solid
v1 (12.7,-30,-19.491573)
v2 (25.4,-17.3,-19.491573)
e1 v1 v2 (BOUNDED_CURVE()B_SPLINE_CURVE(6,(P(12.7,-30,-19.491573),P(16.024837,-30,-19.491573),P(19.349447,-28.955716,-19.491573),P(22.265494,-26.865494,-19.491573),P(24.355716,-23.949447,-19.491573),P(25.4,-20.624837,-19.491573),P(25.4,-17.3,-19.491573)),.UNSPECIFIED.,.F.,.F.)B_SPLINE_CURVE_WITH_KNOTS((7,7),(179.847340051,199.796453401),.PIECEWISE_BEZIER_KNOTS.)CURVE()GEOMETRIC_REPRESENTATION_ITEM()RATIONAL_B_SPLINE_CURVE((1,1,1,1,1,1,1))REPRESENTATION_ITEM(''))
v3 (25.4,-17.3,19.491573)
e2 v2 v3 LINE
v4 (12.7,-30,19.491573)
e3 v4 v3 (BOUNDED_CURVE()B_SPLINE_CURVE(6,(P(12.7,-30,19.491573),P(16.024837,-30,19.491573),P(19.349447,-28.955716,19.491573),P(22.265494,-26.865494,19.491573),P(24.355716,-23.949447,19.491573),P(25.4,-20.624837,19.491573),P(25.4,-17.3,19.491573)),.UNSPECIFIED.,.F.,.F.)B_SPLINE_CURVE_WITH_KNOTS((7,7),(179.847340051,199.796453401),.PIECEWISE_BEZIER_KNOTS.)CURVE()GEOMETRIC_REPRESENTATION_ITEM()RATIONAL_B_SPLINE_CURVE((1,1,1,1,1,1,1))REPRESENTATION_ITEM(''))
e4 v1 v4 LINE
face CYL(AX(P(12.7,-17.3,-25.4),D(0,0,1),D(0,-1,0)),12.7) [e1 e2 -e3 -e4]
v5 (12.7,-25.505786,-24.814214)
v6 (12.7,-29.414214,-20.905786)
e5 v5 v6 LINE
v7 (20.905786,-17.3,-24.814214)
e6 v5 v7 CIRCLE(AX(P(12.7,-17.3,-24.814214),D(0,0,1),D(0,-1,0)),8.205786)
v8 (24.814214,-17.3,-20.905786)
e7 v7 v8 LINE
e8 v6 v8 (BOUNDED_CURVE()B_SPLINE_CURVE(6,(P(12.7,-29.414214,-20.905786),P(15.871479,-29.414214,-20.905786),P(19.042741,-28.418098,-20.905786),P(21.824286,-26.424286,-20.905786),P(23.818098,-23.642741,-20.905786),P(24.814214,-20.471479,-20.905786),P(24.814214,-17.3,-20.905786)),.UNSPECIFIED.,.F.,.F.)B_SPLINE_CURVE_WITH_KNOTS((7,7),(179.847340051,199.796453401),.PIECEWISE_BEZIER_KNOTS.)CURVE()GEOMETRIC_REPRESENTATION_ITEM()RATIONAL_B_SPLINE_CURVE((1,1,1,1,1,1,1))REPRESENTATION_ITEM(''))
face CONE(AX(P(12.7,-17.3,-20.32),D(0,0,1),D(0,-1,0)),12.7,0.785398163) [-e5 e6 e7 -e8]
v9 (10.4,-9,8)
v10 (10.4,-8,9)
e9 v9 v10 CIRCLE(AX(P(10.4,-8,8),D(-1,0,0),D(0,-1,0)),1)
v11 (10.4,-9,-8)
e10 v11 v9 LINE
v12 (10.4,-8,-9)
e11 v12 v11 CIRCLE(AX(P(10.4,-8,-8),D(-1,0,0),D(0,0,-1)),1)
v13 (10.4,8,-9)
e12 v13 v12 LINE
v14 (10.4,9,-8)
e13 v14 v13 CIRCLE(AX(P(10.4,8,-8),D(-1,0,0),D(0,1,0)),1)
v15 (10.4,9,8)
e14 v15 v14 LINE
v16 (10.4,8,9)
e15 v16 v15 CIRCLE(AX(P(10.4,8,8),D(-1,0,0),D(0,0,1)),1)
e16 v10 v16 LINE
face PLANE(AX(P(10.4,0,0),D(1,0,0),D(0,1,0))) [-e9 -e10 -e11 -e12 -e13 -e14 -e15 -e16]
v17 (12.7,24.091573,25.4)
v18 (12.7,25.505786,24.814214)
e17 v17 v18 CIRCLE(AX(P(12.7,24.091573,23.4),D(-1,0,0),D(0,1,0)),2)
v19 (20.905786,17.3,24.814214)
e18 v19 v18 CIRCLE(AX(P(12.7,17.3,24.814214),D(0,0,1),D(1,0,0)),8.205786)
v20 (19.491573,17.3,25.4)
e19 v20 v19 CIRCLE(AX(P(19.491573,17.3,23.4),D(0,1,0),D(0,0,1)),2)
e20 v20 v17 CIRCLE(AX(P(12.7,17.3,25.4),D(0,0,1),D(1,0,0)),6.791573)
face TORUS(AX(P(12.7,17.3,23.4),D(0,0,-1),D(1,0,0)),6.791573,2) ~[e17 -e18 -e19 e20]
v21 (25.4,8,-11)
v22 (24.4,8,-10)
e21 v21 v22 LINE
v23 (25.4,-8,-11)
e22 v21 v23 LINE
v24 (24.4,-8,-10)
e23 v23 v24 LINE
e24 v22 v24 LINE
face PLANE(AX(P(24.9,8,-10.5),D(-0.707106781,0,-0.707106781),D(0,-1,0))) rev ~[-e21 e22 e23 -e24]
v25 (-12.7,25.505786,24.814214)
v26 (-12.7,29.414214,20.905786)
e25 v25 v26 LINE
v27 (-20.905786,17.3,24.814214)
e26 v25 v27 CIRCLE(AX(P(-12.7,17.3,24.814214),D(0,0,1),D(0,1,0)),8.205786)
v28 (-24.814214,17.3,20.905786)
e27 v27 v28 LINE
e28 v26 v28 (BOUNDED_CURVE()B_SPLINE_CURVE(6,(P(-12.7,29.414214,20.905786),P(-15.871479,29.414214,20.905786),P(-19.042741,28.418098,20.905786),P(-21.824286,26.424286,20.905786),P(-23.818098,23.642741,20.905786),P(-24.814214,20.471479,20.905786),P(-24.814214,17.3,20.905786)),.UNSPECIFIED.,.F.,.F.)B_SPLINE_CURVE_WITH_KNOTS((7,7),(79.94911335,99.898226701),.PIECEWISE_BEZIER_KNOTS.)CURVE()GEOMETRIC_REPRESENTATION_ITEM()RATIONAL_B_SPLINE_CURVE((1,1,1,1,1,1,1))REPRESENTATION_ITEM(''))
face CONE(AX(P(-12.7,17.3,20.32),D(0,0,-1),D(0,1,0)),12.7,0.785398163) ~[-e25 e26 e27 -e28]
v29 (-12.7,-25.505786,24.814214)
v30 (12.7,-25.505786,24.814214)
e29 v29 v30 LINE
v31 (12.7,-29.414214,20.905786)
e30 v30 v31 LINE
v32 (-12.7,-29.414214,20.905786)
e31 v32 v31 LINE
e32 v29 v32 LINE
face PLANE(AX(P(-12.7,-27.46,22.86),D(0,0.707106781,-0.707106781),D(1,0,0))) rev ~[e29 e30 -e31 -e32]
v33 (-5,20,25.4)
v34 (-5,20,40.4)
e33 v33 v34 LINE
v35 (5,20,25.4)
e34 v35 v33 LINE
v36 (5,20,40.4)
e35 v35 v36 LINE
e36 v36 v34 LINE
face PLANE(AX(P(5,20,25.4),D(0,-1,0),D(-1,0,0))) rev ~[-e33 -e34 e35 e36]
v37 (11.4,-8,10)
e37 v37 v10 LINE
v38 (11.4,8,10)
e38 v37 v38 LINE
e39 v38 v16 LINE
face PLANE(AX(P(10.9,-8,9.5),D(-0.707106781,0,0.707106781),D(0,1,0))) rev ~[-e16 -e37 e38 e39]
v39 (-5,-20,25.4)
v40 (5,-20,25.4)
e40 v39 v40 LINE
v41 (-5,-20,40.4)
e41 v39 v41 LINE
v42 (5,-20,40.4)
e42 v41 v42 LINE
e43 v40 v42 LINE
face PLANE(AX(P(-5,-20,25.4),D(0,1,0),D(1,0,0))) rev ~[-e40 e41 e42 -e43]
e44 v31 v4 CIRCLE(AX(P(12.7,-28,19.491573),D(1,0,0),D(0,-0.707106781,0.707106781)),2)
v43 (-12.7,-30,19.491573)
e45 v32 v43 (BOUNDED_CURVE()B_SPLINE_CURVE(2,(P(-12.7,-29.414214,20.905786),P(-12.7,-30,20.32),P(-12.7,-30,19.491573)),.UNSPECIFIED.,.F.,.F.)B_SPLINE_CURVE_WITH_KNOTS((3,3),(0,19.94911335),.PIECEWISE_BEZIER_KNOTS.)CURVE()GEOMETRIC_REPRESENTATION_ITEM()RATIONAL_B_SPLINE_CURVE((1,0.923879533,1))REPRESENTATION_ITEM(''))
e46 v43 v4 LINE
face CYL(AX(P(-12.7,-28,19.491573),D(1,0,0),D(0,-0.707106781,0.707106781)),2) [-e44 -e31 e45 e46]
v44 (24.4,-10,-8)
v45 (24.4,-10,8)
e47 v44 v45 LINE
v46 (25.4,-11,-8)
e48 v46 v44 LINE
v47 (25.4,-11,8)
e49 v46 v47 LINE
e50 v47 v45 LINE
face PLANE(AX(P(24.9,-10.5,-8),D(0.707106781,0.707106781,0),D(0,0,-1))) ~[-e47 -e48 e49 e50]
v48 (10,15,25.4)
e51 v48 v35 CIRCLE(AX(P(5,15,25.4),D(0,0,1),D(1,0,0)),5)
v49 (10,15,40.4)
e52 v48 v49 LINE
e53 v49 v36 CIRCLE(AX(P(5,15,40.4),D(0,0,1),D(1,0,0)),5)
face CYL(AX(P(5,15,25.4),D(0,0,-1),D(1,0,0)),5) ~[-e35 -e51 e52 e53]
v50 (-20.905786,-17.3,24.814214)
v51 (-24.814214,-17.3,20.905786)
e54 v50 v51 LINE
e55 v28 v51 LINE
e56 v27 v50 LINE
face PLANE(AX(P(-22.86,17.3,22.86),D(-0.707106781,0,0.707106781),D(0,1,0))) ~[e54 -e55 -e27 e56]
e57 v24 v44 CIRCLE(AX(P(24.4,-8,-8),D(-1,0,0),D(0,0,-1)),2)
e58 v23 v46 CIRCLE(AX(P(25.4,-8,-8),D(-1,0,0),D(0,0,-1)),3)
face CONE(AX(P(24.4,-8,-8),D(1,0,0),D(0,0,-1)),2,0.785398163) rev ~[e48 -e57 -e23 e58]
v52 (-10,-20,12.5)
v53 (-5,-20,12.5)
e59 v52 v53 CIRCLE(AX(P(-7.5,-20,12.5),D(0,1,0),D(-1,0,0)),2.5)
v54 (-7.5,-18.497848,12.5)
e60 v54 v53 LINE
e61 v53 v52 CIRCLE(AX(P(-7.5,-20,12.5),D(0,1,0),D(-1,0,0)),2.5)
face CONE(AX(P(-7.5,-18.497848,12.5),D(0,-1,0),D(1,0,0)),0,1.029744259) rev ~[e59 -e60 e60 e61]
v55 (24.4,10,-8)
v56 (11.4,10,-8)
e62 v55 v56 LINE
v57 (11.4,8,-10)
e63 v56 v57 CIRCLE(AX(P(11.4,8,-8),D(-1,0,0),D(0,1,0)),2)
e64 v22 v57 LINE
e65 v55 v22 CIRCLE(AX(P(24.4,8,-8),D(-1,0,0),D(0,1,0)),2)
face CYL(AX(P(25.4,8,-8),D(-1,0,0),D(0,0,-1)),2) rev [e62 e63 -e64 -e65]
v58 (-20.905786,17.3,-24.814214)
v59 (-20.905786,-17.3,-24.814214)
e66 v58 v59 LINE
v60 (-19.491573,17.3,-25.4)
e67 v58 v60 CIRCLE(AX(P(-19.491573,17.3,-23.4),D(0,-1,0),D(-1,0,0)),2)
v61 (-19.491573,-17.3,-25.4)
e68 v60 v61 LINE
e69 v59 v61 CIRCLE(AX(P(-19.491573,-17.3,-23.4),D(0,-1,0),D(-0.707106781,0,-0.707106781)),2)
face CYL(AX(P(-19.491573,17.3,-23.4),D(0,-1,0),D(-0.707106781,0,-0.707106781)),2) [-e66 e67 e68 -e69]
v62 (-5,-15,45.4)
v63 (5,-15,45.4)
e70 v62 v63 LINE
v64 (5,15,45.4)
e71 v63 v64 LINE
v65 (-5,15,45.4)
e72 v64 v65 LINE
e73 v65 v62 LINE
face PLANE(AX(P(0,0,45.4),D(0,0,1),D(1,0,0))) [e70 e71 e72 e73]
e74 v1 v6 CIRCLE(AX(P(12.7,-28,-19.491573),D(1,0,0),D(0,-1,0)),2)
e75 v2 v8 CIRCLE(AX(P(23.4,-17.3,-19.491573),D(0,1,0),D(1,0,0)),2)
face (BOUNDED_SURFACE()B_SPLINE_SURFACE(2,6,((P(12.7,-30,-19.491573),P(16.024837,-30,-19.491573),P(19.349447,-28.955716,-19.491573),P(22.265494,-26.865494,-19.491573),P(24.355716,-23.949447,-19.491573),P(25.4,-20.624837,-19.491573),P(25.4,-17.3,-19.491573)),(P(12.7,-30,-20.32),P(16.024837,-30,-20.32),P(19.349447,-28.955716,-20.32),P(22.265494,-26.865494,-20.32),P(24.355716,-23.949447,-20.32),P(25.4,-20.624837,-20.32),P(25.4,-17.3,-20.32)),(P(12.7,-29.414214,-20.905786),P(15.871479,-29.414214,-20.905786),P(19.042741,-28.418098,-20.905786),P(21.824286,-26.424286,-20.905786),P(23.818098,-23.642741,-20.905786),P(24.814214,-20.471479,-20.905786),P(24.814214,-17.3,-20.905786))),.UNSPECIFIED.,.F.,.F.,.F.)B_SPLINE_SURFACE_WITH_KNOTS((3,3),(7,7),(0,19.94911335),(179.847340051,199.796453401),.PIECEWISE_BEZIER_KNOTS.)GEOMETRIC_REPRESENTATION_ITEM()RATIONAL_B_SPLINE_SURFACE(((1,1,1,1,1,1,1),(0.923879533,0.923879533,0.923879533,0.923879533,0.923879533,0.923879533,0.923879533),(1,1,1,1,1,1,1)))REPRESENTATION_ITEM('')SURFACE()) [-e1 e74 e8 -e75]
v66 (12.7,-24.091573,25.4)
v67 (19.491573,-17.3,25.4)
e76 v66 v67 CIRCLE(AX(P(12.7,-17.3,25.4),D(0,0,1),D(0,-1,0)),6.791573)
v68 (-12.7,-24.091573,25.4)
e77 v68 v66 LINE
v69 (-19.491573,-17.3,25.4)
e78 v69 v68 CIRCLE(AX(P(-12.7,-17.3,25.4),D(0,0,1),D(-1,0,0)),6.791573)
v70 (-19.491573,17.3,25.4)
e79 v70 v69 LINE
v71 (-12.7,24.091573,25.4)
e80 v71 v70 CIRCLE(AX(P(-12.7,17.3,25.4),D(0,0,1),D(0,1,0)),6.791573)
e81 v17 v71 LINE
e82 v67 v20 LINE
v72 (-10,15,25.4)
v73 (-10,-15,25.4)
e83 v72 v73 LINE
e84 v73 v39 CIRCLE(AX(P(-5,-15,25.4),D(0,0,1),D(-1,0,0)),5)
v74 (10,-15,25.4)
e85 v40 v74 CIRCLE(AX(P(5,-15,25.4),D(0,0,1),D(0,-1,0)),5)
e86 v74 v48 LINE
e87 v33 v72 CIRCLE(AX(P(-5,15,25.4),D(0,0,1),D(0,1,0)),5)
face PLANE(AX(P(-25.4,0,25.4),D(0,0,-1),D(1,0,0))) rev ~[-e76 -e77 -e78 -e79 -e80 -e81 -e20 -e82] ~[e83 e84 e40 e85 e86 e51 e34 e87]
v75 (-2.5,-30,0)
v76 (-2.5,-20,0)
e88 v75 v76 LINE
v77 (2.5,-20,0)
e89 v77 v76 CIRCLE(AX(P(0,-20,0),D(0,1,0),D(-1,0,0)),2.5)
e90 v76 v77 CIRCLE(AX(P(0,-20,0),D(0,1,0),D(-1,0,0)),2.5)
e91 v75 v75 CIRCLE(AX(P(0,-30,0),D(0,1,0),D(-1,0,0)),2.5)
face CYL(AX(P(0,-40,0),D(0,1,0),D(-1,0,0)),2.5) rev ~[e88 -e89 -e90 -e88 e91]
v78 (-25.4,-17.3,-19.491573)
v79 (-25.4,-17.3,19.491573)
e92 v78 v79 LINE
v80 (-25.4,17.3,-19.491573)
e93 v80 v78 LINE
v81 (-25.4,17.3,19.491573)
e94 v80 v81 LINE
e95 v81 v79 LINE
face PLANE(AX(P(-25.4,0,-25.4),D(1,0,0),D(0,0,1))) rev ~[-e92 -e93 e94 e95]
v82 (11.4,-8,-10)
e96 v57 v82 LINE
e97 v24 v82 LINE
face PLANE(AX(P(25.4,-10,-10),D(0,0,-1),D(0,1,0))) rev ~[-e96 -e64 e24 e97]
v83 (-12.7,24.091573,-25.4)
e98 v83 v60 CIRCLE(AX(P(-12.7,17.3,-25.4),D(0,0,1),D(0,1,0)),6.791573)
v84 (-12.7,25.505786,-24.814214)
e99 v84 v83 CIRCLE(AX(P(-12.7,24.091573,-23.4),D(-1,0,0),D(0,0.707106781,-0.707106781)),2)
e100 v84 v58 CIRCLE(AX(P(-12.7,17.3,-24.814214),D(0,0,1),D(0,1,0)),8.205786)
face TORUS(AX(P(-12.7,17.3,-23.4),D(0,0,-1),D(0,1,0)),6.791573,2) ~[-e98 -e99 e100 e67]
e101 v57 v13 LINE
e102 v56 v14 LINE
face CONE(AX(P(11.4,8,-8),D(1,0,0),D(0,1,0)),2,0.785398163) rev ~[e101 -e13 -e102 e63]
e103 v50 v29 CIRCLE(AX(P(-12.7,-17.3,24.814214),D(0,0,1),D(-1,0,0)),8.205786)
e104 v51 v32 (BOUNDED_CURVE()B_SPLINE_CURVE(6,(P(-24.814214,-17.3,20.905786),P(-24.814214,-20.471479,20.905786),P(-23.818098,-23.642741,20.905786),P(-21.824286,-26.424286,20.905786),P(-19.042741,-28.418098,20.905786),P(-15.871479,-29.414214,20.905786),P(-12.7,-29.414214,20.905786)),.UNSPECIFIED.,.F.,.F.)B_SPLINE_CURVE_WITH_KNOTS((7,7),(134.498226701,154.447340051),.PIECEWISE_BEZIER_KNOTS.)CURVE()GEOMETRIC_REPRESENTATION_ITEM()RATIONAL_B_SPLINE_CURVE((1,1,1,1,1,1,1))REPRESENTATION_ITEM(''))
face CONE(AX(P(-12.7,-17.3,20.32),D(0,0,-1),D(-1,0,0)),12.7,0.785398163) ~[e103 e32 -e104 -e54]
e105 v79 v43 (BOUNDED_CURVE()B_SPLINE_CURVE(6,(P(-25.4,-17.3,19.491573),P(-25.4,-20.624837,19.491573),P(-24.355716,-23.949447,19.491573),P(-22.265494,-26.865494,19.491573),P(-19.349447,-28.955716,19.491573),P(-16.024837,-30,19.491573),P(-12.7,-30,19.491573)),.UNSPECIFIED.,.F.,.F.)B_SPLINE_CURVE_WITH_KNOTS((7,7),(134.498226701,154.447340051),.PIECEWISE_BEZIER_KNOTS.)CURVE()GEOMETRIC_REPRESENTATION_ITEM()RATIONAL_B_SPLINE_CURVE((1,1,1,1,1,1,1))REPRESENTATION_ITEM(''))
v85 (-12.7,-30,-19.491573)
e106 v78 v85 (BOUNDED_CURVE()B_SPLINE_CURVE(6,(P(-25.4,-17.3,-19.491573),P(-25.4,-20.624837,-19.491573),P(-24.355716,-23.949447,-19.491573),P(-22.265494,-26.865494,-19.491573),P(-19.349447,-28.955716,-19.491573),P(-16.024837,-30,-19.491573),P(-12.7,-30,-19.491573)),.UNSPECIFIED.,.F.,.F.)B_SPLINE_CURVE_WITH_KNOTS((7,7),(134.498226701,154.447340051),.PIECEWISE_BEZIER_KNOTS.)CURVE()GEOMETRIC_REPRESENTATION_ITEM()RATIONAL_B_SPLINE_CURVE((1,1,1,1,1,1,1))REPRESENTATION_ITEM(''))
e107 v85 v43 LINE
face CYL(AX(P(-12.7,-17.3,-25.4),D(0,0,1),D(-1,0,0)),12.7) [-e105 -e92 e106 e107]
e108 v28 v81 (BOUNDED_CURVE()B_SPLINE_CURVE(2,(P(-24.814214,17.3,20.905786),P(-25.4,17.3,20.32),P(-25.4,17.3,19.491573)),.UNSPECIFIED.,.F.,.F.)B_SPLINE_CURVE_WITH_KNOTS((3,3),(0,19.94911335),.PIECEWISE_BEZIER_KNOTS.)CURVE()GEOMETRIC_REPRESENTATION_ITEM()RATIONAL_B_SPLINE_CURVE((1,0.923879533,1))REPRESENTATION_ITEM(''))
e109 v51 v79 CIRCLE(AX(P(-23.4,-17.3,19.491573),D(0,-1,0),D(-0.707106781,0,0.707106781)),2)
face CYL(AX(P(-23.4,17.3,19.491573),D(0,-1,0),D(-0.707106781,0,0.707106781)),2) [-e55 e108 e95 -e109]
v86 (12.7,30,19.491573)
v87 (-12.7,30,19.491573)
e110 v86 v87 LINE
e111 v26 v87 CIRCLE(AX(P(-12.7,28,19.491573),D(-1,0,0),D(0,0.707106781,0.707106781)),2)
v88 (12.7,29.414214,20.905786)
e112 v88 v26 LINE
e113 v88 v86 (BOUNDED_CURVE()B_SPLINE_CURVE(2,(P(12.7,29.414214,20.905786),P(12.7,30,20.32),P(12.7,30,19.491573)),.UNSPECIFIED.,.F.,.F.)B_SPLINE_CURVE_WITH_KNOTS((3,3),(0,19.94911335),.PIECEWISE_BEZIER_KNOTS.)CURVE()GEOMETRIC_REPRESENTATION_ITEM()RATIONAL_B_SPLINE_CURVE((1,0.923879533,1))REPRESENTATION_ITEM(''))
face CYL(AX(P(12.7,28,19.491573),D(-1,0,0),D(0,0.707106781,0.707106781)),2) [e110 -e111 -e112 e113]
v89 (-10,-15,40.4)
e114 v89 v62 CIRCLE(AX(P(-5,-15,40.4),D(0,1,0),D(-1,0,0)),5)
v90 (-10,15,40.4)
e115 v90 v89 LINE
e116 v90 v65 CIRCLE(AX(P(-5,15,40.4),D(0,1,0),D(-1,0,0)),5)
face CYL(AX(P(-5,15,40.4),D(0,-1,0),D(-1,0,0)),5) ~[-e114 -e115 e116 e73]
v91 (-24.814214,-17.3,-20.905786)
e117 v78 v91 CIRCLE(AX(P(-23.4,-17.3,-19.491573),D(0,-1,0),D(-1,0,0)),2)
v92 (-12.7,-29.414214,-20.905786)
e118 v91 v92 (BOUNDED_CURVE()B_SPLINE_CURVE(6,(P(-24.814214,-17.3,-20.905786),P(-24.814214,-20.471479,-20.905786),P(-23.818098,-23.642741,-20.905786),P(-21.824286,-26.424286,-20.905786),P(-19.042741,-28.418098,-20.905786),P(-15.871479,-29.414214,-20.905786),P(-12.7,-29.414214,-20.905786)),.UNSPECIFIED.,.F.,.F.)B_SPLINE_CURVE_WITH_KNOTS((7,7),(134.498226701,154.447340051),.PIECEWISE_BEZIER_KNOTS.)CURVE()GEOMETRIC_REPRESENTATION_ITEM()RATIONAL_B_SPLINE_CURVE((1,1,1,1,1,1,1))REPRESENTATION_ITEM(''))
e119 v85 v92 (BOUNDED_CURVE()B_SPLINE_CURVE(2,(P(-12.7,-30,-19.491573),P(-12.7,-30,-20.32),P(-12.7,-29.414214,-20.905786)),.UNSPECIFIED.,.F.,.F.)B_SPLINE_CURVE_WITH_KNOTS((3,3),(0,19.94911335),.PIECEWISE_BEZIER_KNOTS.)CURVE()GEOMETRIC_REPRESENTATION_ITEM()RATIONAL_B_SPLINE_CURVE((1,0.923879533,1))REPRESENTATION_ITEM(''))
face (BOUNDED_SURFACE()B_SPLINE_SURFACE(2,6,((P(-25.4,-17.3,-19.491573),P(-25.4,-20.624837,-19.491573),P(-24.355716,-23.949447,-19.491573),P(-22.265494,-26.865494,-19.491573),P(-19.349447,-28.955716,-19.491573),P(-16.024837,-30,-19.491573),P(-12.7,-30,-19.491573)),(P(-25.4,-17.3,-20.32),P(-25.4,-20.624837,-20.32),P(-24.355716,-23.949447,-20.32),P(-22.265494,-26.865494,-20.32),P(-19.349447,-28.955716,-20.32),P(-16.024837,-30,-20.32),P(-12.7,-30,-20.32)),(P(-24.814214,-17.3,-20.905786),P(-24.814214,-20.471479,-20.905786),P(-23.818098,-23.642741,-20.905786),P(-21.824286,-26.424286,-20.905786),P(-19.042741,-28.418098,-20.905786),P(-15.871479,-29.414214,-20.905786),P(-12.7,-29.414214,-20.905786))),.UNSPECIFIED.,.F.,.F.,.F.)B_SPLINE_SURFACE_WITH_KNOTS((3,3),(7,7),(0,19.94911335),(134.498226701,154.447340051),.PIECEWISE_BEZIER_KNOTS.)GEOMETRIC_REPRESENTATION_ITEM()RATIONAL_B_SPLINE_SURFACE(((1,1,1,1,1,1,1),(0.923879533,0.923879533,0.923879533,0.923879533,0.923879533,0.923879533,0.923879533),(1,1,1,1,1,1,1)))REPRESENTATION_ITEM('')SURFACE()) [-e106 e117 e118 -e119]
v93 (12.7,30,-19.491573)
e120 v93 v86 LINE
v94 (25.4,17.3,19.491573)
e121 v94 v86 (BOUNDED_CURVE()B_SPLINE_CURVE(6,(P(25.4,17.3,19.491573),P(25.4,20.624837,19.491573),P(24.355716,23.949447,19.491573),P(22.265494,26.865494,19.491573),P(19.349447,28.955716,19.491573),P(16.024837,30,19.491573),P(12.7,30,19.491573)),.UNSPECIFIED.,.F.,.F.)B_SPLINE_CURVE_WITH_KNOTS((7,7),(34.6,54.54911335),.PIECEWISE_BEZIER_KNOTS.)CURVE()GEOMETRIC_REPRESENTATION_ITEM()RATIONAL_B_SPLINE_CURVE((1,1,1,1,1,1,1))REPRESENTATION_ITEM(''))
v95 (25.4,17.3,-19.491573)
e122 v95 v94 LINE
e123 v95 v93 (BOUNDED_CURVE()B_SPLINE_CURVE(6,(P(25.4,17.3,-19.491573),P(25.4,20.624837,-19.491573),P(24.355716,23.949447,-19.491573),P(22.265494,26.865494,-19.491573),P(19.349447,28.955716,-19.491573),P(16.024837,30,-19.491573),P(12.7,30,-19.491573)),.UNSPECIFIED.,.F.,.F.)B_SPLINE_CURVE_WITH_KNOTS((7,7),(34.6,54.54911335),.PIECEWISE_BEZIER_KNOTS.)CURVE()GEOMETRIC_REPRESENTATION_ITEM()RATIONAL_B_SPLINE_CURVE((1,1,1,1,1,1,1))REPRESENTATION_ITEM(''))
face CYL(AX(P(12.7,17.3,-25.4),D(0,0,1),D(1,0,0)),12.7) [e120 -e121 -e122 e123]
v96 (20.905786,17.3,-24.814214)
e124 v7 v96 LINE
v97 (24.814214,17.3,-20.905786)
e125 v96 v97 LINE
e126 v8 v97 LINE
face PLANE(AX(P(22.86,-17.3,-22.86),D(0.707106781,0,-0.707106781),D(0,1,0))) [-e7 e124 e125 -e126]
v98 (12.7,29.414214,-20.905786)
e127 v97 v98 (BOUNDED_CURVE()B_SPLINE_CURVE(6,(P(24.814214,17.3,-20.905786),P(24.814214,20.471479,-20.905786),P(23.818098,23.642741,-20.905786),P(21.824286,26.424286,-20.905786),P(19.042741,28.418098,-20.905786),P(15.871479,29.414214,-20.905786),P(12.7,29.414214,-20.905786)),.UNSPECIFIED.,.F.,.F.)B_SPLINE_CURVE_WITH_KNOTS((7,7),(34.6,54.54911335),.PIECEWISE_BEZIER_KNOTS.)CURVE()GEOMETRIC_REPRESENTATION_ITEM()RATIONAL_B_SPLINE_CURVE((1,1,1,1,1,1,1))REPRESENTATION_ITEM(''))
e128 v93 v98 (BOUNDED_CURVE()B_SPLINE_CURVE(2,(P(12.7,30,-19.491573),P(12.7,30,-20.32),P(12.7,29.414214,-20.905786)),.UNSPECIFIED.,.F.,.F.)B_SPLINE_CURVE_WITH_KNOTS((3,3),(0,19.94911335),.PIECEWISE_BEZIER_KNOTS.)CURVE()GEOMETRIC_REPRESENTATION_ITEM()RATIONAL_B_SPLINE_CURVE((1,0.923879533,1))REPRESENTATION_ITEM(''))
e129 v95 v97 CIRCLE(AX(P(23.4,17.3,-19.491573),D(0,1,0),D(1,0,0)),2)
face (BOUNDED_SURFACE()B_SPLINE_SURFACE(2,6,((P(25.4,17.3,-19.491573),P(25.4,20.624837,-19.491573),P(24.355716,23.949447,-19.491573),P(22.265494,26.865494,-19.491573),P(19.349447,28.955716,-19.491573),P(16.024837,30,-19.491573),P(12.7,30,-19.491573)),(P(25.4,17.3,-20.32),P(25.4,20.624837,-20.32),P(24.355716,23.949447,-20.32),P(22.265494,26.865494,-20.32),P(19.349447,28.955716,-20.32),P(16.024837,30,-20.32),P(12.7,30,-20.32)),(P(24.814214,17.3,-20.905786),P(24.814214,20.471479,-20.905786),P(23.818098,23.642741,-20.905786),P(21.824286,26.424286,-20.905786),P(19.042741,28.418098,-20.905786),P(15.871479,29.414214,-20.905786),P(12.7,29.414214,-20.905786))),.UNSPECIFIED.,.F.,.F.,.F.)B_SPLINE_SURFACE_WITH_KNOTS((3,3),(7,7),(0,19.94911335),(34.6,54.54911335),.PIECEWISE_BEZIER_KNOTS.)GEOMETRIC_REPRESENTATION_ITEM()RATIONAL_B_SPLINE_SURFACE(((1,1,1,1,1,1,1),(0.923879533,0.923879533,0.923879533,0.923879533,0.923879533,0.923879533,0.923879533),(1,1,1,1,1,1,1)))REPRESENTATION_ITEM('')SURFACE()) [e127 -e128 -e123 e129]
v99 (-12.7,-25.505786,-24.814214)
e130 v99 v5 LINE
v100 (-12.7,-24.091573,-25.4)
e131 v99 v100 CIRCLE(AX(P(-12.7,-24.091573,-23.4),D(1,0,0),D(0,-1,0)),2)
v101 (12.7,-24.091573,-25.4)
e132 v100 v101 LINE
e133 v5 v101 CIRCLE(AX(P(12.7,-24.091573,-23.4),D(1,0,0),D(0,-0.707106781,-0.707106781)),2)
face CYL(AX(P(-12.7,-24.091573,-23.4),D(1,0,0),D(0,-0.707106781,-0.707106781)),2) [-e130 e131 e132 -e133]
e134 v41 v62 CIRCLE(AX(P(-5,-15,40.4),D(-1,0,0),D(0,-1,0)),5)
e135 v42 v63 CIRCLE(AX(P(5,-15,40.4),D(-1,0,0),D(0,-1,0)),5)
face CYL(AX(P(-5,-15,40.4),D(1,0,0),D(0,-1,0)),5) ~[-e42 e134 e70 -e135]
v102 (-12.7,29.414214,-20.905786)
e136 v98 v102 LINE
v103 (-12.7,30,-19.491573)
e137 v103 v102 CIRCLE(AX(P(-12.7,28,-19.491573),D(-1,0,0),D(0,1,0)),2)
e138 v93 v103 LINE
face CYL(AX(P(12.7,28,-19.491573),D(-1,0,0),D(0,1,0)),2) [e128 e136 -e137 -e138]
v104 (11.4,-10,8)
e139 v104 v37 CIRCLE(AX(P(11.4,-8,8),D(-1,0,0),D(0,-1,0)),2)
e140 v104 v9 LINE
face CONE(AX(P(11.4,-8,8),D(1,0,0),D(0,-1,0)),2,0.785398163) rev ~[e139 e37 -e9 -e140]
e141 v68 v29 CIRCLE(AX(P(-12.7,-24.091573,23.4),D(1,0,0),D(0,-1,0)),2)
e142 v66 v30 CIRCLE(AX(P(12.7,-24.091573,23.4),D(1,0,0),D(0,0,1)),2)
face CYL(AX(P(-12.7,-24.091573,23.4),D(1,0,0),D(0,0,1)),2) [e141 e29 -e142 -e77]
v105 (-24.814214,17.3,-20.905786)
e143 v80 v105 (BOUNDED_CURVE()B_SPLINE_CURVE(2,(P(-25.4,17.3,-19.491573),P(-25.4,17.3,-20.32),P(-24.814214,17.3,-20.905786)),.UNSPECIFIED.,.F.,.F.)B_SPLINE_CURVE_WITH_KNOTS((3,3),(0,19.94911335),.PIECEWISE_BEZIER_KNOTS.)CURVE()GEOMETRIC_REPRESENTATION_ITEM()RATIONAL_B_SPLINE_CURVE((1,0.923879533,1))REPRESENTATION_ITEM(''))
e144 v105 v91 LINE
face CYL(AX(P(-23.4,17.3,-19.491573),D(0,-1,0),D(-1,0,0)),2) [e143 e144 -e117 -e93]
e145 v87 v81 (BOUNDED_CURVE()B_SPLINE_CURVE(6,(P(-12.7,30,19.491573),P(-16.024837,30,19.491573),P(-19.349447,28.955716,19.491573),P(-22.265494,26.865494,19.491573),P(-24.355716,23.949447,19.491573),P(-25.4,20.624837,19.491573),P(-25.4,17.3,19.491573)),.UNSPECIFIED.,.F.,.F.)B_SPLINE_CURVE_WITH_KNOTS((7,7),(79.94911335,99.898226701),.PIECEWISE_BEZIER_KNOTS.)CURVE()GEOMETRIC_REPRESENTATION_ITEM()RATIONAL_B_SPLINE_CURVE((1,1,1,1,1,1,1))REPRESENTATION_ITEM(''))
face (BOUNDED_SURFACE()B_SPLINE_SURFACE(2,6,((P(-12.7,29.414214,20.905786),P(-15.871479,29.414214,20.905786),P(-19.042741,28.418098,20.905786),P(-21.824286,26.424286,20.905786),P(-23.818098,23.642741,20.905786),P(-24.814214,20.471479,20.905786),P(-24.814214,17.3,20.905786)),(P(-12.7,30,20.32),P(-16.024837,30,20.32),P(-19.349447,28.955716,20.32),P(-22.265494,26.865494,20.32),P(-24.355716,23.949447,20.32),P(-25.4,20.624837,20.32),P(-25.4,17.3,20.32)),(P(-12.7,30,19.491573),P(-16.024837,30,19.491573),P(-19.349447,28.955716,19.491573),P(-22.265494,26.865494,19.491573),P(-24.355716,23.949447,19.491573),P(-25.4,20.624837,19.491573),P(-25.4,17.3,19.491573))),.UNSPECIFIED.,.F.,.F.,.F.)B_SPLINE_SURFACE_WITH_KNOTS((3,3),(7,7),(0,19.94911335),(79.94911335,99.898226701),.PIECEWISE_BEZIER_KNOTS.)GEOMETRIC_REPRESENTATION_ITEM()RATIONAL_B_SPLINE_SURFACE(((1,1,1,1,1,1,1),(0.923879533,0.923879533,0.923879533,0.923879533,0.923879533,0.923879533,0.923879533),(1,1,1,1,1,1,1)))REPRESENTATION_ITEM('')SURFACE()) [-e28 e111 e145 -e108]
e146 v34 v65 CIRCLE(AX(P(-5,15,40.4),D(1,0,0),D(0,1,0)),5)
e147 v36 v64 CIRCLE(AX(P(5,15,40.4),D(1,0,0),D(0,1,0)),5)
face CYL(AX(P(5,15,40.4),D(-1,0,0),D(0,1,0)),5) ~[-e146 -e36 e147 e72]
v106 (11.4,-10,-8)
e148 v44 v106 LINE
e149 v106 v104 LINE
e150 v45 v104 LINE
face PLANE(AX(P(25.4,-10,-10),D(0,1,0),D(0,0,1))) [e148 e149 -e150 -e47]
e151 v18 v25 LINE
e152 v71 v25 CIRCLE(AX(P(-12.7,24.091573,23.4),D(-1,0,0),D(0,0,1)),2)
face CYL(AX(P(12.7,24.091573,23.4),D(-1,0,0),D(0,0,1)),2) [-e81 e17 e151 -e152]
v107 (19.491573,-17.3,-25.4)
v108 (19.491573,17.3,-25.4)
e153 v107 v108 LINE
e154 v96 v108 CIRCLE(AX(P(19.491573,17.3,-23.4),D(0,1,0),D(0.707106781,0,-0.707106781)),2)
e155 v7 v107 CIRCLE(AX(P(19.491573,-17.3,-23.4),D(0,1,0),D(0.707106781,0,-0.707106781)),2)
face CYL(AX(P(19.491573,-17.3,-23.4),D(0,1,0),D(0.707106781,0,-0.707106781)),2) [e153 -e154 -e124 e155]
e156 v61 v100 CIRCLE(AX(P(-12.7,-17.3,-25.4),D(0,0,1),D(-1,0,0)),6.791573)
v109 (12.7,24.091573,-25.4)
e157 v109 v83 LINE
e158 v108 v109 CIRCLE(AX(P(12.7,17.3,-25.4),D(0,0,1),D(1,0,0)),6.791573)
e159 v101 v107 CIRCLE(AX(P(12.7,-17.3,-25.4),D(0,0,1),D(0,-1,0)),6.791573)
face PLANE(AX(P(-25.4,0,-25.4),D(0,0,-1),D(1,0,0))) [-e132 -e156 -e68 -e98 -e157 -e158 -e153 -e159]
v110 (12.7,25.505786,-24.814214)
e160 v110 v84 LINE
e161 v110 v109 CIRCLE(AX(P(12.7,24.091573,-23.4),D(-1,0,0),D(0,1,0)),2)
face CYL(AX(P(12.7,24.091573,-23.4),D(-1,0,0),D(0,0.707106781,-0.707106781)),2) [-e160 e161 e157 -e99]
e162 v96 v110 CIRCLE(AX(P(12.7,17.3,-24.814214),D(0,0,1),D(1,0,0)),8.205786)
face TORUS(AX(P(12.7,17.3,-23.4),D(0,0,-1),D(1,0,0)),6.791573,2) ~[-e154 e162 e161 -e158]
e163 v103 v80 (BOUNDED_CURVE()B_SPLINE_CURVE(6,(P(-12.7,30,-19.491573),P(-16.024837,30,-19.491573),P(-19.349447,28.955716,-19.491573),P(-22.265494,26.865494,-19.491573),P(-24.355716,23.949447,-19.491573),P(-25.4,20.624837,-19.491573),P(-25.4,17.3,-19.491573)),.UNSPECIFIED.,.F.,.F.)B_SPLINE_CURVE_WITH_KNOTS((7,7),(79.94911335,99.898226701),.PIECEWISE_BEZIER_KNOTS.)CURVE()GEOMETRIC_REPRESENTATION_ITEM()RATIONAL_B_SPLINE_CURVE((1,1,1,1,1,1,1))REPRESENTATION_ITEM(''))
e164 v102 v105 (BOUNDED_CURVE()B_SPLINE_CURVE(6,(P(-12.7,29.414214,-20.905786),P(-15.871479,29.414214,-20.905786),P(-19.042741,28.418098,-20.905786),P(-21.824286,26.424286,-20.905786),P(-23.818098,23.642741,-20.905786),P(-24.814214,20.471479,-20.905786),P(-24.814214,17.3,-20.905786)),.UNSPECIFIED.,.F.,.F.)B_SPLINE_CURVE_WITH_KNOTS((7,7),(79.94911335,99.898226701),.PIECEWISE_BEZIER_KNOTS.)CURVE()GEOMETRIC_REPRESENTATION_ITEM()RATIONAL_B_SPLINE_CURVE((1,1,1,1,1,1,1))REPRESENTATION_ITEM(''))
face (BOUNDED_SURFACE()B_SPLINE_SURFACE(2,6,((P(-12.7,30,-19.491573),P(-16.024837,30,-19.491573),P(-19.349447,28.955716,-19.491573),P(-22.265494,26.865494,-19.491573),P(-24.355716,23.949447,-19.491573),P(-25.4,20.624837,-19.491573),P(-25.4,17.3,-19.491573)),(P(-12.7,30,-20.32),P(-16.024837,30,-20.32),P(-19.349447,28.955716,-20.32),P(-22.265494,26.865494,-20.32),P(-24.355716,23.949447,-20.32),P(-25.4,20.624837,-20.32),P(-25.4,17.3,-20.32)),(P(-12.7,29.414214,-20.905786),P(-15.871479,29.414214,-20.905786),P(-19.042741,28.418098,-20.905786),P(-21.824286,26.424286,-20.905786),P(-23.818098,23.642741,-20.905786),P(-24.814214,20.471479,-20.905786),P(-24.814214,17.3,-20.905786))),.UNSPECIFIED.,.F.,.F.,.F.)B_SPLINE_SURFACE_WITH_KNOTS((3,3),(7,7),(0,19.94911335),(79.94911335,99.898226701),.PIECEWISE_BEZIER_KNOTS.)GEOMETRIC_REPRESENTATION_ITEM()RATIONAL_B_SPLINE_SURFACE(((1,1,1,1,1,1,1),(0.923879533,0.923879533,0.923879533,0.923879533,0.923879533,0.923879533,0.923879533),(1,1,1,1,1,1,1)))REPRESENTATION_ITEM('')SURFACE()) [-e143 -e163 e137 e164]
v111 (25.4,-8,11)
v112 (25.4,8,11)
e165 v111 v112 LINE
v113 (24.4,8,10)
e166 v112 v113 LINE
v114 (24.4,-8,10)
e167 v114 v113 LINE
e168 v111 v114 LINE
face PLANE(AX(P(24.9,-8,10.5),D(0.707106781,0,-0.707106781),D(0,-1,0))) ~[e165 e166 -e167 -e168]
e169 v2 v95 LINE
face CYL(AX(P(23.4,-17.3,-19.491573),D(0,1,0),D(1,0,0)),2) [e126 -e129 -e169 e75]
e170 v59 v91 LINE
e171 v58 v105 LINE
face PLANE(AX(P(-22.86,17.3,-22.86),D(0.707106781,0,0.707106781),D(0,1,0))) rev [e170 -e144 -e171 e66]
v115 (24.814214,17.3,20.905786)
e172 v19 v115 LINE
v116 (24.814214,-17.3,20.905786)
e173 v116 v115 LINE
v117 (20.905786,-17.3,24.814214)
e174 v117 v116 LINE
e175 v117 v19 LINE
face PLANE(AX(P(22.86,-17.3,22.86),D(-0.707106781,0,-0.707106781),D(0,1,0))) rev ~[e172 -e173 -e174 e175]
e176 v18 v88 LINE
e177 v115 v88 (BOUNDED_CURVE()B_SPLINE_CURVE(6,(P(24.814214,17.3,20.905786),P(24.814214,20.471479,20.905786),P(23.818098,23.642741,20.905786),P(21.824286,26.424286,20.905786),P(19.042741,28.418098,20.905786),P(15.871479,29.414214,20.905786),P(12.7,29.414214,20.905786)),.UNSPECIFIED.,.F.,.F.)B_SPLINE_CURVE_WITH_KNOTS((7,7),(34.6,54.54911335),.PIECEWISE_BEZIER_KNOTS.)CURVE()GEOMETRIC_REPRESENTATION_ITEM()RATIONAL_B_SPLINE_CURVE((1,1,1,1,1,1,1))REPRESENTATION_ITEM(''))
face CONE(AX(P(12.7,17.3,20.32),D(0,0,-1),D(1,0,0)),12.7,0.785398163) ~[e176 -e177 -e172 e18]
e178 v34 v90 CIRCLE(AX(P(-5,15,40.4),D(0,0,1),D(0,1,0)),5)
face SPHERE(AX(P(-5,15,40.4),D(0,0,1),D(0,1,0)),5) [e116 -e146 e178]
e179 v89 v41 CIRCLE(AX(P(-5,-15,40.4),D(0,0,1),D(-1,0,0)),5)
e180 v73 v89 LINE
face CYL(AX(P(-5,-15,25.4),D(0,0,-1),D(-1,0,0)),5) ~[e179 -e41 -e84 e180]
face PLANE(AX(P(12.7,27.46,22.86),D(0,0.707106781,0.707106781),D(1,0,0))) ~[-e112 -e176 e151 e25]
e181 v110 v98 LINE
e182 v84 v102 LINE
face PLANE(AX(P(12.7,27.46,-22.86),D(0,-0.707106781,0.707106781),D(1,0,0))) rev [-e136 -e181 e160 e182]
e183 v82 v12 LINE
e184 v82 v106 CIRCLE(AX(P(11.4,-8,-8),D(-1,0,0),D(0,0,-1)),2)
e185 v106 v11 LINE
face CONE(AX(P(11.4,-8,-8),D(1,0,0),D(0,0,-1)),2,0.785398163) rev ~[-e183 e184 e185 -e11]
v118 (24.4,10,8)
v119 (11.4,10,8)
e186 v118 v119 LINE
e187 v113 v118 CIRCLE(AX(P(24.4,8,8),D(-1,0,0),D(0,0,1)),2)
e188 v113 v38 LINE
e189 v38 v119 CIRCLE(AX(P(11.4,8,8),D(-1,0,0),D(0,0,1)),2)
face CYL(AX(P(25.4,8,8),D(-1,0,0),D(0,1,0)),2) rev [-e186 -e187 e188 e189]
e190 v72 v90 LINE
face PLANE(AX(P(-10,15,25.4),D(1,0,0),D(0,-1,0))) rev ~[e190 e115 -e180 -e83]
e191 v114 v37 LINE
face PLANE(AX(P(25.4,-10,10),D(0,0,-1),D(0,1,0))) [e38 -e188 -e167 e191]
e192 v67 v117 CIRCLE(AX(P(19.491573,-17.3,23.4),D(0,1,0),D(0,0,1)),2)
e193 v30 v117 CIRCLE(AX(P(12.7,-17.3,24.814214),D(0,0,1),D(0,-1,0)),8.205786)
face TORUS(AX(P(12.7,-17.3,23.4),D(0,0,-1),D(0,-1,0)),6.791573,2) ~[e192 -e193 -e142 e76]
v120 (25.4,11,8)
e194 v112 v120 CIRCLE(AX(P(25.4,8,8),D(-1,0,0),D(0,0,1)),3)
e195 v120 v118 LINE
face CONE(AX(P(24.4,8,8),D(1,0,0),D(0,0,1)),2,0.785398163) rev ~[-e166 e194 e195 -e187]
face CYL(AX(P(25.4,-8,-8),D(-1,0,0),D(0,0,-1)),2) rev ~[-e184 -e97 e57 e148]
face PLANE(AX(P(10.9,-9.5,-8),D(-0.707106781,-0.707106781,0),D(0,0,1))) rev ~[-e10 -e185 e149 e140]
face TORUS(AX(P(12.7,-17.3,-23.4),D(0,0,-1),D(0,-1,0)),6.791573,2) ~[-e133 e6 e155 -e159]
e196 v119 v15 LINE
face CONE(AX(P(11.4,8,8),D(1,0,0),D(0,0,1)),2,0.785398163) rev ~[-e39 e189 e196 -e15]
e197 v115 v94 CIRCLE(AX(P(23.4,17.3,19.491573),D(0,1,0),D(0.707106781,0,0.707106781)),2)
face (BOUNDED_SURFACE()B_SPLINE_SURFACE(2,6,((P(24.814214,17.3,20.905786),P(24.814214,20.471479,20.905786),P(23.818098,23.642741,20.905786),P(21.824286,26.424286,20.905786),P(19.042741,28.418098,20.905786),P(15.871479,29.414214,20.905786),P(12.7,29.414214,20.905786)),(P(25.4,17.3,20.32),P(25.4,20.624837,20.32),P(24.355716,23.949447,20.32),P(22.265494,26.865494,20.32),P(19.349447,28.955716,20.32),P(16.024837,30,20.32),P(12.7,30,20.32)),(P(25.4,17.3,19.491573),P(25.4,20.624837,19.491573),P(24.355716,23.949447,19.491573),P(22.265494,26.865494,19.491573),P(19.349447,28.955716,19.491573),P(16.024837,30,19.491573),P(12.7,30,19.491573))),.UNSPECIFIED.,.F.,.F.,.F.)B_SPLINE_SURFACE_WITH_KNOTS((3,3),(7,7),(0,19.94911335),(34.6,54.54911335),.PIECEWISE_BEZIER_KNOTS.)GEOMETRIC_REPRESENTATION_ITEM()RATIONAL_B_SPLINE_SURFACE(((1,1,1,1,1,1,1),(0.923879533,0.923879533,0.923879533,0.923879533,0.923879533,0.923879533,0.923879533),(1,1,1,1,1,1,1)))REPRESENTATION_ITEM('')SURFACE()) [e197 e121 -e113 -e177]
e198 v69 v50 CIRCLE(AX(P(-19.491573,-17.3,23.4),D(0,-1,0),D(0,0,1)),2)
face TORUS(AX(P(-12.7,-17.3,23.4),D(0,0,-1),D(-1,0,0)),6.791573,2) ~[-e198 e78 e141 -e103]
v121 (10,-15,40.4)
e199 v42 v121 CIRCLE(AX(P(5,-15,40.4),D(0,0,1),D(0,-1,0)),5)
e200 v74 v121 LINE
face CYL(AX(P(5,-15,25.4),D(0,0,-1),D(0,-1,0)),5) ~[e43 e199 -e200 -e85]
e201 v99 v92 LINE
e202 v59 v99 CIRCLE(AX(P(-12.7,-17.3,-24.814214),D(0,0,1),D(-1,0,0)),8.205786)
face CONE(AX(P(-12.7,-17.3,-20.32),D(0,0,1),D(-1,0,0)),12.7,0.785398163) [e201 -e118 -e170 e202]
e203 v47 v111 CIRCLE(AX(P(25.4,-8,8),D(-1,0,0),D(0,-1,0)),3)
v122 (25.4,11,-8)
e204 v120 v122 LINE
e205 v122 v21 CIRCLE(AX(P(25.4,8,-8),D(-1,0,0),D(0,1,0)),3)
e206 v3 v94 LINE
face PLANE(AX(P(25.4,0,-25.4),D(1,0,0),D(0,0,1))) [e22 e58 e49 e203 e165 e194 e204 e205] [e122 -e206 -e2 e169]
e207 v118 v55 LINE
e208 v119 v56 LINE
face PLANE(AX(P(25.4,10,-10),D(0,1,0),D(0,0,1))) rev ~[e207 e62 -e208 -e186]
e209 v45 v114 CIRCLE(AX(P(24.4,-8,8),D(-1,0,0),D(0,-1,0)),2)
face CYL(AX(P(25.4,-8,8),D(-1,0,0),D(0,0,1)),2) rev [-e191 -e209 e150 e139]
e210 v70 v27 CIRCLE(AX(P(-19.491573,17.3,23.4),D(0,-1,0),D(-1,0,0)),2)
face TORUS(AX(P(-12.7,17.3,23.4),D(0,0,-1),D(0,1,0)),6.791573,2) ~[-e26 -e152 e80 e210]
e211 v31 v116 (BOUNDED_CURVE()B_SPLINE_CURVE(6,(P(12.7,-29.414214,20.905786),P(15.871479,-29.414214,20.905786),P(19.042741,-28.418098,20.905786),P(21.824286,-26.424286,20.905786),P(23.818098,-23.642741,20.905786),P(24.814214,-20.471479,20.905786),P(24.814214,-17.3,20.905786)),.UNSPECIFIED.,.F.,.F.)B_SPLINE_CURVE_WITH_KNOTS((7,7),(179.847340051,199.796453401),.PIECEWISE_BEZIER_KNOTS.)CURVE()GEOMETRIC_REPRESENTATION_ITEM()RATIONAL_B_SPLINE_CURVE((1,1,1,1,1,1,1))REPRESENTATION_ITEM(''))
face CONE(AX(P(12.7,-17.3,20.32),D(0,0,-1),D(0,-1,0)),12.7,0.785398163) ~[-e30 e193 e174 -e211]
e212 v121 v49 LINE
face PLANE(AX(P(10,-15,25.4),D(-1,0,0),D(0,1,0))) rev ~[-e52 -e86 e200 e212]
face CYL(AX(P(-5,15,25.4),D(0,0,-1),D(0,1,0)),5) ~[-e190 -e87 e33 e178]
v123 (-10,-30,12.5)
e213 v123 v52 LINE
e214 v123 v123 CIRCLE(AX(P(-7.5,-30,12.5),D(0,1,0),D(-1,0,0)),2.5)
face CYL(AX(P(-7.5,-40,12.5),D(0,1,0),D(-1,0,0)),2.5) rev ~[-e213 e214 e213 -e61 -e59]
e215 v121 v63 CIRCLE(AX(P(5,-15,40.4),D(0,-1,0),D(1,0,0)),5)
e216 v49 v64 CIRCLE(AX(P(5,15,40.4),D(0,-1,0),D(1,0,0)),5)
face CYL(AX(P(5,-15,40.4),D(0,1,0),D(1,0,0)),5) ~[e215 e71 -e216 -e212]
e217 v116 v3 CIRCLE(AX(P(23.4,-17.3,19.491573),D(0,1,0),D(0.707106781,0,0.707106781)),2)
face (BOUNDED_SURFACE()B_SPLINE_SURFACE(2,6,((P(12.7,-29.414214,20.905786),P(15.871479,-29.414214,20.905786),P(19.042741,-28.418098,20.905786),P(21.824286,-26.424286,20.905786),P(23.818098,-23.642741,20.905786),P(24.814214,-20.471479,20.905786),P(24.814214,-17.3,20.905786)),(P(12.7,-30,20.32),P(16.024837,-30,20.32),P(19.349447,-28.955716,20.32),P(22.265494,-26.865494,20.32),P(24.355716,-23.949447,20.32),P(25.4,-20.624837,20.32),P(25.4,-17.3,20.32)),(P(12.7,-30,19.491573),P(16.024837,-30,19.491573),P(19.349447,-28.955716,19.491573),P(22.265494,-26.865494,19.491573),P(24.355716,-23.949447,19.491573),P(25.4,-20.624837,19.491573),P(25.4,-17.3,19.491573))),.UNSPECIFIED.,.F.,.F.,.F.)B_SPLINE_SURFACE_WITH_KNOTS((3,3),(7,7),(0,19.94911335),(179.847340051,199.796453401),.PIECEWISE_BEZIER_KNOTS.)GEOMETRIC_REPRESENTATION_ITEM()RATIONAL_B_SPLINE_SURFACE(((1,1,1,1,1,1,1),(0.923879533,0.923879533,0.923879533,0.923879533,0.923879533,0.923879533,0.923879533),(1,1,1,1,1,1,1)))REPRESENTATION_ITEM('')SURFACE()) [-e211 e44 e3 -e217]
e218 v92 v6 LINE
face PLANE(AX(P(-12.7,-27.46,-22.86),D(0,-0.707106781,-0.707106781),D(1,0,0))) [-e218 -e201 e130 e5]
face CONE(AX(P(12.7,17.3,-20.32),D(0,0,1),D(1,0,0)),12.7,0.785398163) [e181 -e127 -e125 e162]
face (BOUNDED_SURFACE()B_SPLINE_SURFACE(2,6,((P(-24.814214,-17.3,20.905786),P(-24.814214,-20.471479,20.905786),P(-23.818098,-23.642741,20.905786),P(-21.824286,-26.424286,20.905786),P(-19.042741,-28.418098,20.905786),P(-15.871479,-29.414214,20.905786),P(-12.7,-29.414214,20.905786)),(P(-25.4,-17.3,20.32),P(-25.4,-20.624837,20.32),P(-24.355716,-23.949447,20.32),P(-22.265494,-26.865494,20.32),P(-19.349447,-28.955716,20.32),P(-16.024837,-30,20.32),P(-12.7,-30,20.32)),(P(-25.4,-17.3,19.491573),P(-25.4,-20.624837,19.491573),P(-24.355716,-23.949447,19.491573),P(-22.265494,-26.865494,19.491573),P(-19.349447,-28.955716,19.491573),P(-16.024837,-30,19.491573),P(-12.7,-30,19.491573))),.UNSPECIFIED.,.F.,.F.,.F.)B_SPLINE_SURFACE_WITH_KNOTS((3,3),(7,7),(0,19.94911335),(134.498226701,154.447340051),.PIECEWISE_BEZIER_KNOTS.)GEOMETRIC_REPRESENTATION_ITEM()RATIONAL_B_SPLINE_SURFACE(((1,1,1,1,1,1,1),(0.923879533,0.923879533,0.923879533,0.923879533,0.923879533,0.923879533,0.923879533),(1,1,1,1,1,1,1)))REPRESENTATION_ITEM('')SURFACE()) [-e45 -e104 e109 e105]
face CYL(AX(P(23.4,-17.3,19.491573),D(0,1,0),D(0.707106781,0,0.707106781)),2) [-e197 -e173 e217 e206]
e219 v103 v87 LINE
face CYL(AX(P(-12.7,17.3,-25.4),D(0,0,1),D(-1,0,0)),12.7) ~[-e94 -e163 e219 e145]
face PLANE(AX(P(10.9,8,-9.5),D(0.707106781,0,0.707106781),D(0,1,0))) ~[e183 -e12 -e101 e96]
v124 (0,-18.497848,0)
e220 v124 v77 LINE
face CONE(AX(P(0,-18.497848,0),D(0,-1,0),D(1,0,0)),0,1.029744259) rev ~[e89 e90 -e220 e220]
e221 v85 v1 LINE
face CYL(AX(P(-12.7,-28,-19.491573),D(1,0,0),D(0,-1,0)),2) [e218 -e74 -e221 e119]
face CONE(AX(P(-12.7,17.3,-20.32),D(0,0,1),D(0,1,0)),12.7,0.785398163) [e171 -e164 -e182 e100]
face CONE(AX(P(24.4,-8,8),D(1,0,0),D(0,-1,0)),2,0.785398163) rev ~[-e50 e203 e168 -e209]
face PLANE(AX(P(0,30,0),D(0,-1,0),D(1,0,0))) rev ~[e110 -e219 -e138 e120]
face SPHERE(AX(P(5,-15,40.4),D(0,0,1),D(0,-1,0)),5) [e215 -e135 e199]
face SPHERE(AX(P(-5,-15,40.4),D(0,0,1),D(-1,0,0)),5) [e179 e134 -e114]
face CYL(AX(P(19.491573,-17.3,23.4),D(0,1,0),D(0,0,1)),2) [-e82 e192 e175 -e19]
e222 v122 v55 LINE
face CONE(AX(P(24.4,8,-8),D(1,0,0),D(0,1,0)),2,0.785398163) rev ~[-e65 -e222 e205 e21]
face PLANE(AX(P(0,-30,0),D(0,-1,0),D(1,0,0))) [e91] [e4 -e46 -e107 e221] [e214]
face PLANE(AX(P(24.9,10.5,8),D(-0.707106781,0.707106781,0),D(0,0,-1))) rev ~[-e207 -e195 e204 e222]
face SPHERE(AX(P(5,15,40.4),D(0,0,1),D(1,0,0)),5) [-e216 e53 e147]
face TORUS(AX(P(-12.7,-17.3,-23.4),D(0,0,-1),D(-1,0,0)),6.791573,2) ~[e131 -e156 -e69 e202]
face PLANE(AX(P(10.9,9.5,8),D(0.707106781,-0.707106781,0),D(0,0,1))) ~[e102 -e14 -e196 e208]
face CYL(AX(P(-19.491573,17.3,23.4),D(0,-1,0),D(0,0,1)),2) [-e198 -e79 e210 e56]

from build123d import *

# Parameters (mm, degrees)
F0_W      = 50.8
F0_H      = 50.8
F1_DEPTH  = 30
F2_R      = 12.7
F3_SIZE   = 5.08
F5_DEPTH  = 20
F6_R      = 5
F7_R      = 2
F8_W      = 20
F8_H      = 20
F9_DEPTH  = 15
F10_R     = 2
F11_SIZE  = 1
F13_D     = 5
F13_DEPTH = 10
F13_TIP   = 1.5021515476
F15_D     = 5
F15_DEPTH = 10
F15_TIP   = 1.5021515476


with BuildPart() as f1:
    # F0 (on Front) → F1 (new body, symmetric)
    with BuildSketch(Plane.XZ):
        Rectangle(F0_W, F0_H)
    extrude(amount=F1_DEPTH, both=True)

    # F2
    f2_edges = [f1.edges().sort_by_distance(p)[0] for p in [
        (25.4, -30, 0),
        (-25.4, -30, 0),
        (25.4, 30, 0),
        (-25.4, 30, 0),
    ]]
    fillet(f2_edges, radius=F2_R)

    # F3
    f3_edges = [f1.edges().sort_by_distance(p)[0] for p in [
        (0, -30, 25.4),
        (0, -30, -25.4),
    ]]
    chamfer(f3_edges, length=F3_SIZE)

    # F4 (on face) → F5 (join)
    with BuildSketch(Plane.XY.offset(25.4)):
        with BuildLine():
            ThreePointArc((-10, -15), (-8.5355339059, -18.5355339059), (-5, -20))
            Line((-5, -20), (5, -20))
            ThreePointArc((5, -20), (8.5355339059, -18.5355339059), (10, -15))
            Line((10, -15), (10, 15))
            ThreePointArc((10, 15), (8.5355339059, 18.5355339059), (5, 20))
            Line((5, 20), (-5, 20))
            ThreePointArc((-5, 20), (-8.5355339059, 18.5355339059), (-10, 15))
            Line((-10, 15), (-10, -15))
        make_face()
    extrude(amount=F5_DEPTH)

    # F6
    f6_edges = [f1.edges().sort_by_distance(p)[0] for p in [
        (10, 0, 45.4),
    ]]
    fillet(f6_edges, radius=F6_R)

    # F7
    f7_edges = [f1.edges().sort_by_distance(p)[0] for p in [
        (20.32, 0, 25.4),
        (25.4, 0, 20.32),
        (25.4, 0, -20.32),
        (20.32, 0, -25.4),
    ]]
    fillet(f7_edges, radius=F7_R)

    # F8 (on face) → F9 (cut)
    with BuildSketch(Plane.YZ.offset(25.4)):
        Rectangle(F8_W, F8_H)
    extrude(amount=-F9_DEPTH, mode=Mode.SUBTRACT)

    # F10
    f10_edges = [f1.edges().sort_by_distance(p)[0] for p in [
        (17.9, 10, 10),
        (17.9, -10, 10),
        (17.9, -10, -10),
        (17.9, 10, -10),
    ]]
    fillet(f10_edges, radius=F10_R)

    # F11
    f11_edges = [f1.edges().sort_by_distance(p)[0] for p in [
        (10.4, 0, 10),
        (25.4, 0, 10),
    ]]
    chamfer(f11_edges, length=F11_SIZE)

    # F13
    with Locations(Plane.XZ.offset(30)):
        with Locations((0, 0)):
            Hole(F13_D / 2, depth=F13_DEPTH)
            with Locations((0, 0, -(F13_DEPTH + F13_TIP / 2))):  # 118° drill point
                Cone(0, F13_D / 2, F13_TIP, mode=Mode.SUBTRACT)

    # F15
    with Locations(Plane.XZ.offset(30)):
        with Locations((-7.5, 12.5)):
            Hole(F15_D / 2, depth=F15_DEPTH)
            with Locations((0, 0, -(F15_DEPTH + F15_TIP / 2))):  # 118° drill point
                Cone(0, F15_D / 2, F15_TIP, mode=Mode.SUBTRACT)


solid = f1.part
